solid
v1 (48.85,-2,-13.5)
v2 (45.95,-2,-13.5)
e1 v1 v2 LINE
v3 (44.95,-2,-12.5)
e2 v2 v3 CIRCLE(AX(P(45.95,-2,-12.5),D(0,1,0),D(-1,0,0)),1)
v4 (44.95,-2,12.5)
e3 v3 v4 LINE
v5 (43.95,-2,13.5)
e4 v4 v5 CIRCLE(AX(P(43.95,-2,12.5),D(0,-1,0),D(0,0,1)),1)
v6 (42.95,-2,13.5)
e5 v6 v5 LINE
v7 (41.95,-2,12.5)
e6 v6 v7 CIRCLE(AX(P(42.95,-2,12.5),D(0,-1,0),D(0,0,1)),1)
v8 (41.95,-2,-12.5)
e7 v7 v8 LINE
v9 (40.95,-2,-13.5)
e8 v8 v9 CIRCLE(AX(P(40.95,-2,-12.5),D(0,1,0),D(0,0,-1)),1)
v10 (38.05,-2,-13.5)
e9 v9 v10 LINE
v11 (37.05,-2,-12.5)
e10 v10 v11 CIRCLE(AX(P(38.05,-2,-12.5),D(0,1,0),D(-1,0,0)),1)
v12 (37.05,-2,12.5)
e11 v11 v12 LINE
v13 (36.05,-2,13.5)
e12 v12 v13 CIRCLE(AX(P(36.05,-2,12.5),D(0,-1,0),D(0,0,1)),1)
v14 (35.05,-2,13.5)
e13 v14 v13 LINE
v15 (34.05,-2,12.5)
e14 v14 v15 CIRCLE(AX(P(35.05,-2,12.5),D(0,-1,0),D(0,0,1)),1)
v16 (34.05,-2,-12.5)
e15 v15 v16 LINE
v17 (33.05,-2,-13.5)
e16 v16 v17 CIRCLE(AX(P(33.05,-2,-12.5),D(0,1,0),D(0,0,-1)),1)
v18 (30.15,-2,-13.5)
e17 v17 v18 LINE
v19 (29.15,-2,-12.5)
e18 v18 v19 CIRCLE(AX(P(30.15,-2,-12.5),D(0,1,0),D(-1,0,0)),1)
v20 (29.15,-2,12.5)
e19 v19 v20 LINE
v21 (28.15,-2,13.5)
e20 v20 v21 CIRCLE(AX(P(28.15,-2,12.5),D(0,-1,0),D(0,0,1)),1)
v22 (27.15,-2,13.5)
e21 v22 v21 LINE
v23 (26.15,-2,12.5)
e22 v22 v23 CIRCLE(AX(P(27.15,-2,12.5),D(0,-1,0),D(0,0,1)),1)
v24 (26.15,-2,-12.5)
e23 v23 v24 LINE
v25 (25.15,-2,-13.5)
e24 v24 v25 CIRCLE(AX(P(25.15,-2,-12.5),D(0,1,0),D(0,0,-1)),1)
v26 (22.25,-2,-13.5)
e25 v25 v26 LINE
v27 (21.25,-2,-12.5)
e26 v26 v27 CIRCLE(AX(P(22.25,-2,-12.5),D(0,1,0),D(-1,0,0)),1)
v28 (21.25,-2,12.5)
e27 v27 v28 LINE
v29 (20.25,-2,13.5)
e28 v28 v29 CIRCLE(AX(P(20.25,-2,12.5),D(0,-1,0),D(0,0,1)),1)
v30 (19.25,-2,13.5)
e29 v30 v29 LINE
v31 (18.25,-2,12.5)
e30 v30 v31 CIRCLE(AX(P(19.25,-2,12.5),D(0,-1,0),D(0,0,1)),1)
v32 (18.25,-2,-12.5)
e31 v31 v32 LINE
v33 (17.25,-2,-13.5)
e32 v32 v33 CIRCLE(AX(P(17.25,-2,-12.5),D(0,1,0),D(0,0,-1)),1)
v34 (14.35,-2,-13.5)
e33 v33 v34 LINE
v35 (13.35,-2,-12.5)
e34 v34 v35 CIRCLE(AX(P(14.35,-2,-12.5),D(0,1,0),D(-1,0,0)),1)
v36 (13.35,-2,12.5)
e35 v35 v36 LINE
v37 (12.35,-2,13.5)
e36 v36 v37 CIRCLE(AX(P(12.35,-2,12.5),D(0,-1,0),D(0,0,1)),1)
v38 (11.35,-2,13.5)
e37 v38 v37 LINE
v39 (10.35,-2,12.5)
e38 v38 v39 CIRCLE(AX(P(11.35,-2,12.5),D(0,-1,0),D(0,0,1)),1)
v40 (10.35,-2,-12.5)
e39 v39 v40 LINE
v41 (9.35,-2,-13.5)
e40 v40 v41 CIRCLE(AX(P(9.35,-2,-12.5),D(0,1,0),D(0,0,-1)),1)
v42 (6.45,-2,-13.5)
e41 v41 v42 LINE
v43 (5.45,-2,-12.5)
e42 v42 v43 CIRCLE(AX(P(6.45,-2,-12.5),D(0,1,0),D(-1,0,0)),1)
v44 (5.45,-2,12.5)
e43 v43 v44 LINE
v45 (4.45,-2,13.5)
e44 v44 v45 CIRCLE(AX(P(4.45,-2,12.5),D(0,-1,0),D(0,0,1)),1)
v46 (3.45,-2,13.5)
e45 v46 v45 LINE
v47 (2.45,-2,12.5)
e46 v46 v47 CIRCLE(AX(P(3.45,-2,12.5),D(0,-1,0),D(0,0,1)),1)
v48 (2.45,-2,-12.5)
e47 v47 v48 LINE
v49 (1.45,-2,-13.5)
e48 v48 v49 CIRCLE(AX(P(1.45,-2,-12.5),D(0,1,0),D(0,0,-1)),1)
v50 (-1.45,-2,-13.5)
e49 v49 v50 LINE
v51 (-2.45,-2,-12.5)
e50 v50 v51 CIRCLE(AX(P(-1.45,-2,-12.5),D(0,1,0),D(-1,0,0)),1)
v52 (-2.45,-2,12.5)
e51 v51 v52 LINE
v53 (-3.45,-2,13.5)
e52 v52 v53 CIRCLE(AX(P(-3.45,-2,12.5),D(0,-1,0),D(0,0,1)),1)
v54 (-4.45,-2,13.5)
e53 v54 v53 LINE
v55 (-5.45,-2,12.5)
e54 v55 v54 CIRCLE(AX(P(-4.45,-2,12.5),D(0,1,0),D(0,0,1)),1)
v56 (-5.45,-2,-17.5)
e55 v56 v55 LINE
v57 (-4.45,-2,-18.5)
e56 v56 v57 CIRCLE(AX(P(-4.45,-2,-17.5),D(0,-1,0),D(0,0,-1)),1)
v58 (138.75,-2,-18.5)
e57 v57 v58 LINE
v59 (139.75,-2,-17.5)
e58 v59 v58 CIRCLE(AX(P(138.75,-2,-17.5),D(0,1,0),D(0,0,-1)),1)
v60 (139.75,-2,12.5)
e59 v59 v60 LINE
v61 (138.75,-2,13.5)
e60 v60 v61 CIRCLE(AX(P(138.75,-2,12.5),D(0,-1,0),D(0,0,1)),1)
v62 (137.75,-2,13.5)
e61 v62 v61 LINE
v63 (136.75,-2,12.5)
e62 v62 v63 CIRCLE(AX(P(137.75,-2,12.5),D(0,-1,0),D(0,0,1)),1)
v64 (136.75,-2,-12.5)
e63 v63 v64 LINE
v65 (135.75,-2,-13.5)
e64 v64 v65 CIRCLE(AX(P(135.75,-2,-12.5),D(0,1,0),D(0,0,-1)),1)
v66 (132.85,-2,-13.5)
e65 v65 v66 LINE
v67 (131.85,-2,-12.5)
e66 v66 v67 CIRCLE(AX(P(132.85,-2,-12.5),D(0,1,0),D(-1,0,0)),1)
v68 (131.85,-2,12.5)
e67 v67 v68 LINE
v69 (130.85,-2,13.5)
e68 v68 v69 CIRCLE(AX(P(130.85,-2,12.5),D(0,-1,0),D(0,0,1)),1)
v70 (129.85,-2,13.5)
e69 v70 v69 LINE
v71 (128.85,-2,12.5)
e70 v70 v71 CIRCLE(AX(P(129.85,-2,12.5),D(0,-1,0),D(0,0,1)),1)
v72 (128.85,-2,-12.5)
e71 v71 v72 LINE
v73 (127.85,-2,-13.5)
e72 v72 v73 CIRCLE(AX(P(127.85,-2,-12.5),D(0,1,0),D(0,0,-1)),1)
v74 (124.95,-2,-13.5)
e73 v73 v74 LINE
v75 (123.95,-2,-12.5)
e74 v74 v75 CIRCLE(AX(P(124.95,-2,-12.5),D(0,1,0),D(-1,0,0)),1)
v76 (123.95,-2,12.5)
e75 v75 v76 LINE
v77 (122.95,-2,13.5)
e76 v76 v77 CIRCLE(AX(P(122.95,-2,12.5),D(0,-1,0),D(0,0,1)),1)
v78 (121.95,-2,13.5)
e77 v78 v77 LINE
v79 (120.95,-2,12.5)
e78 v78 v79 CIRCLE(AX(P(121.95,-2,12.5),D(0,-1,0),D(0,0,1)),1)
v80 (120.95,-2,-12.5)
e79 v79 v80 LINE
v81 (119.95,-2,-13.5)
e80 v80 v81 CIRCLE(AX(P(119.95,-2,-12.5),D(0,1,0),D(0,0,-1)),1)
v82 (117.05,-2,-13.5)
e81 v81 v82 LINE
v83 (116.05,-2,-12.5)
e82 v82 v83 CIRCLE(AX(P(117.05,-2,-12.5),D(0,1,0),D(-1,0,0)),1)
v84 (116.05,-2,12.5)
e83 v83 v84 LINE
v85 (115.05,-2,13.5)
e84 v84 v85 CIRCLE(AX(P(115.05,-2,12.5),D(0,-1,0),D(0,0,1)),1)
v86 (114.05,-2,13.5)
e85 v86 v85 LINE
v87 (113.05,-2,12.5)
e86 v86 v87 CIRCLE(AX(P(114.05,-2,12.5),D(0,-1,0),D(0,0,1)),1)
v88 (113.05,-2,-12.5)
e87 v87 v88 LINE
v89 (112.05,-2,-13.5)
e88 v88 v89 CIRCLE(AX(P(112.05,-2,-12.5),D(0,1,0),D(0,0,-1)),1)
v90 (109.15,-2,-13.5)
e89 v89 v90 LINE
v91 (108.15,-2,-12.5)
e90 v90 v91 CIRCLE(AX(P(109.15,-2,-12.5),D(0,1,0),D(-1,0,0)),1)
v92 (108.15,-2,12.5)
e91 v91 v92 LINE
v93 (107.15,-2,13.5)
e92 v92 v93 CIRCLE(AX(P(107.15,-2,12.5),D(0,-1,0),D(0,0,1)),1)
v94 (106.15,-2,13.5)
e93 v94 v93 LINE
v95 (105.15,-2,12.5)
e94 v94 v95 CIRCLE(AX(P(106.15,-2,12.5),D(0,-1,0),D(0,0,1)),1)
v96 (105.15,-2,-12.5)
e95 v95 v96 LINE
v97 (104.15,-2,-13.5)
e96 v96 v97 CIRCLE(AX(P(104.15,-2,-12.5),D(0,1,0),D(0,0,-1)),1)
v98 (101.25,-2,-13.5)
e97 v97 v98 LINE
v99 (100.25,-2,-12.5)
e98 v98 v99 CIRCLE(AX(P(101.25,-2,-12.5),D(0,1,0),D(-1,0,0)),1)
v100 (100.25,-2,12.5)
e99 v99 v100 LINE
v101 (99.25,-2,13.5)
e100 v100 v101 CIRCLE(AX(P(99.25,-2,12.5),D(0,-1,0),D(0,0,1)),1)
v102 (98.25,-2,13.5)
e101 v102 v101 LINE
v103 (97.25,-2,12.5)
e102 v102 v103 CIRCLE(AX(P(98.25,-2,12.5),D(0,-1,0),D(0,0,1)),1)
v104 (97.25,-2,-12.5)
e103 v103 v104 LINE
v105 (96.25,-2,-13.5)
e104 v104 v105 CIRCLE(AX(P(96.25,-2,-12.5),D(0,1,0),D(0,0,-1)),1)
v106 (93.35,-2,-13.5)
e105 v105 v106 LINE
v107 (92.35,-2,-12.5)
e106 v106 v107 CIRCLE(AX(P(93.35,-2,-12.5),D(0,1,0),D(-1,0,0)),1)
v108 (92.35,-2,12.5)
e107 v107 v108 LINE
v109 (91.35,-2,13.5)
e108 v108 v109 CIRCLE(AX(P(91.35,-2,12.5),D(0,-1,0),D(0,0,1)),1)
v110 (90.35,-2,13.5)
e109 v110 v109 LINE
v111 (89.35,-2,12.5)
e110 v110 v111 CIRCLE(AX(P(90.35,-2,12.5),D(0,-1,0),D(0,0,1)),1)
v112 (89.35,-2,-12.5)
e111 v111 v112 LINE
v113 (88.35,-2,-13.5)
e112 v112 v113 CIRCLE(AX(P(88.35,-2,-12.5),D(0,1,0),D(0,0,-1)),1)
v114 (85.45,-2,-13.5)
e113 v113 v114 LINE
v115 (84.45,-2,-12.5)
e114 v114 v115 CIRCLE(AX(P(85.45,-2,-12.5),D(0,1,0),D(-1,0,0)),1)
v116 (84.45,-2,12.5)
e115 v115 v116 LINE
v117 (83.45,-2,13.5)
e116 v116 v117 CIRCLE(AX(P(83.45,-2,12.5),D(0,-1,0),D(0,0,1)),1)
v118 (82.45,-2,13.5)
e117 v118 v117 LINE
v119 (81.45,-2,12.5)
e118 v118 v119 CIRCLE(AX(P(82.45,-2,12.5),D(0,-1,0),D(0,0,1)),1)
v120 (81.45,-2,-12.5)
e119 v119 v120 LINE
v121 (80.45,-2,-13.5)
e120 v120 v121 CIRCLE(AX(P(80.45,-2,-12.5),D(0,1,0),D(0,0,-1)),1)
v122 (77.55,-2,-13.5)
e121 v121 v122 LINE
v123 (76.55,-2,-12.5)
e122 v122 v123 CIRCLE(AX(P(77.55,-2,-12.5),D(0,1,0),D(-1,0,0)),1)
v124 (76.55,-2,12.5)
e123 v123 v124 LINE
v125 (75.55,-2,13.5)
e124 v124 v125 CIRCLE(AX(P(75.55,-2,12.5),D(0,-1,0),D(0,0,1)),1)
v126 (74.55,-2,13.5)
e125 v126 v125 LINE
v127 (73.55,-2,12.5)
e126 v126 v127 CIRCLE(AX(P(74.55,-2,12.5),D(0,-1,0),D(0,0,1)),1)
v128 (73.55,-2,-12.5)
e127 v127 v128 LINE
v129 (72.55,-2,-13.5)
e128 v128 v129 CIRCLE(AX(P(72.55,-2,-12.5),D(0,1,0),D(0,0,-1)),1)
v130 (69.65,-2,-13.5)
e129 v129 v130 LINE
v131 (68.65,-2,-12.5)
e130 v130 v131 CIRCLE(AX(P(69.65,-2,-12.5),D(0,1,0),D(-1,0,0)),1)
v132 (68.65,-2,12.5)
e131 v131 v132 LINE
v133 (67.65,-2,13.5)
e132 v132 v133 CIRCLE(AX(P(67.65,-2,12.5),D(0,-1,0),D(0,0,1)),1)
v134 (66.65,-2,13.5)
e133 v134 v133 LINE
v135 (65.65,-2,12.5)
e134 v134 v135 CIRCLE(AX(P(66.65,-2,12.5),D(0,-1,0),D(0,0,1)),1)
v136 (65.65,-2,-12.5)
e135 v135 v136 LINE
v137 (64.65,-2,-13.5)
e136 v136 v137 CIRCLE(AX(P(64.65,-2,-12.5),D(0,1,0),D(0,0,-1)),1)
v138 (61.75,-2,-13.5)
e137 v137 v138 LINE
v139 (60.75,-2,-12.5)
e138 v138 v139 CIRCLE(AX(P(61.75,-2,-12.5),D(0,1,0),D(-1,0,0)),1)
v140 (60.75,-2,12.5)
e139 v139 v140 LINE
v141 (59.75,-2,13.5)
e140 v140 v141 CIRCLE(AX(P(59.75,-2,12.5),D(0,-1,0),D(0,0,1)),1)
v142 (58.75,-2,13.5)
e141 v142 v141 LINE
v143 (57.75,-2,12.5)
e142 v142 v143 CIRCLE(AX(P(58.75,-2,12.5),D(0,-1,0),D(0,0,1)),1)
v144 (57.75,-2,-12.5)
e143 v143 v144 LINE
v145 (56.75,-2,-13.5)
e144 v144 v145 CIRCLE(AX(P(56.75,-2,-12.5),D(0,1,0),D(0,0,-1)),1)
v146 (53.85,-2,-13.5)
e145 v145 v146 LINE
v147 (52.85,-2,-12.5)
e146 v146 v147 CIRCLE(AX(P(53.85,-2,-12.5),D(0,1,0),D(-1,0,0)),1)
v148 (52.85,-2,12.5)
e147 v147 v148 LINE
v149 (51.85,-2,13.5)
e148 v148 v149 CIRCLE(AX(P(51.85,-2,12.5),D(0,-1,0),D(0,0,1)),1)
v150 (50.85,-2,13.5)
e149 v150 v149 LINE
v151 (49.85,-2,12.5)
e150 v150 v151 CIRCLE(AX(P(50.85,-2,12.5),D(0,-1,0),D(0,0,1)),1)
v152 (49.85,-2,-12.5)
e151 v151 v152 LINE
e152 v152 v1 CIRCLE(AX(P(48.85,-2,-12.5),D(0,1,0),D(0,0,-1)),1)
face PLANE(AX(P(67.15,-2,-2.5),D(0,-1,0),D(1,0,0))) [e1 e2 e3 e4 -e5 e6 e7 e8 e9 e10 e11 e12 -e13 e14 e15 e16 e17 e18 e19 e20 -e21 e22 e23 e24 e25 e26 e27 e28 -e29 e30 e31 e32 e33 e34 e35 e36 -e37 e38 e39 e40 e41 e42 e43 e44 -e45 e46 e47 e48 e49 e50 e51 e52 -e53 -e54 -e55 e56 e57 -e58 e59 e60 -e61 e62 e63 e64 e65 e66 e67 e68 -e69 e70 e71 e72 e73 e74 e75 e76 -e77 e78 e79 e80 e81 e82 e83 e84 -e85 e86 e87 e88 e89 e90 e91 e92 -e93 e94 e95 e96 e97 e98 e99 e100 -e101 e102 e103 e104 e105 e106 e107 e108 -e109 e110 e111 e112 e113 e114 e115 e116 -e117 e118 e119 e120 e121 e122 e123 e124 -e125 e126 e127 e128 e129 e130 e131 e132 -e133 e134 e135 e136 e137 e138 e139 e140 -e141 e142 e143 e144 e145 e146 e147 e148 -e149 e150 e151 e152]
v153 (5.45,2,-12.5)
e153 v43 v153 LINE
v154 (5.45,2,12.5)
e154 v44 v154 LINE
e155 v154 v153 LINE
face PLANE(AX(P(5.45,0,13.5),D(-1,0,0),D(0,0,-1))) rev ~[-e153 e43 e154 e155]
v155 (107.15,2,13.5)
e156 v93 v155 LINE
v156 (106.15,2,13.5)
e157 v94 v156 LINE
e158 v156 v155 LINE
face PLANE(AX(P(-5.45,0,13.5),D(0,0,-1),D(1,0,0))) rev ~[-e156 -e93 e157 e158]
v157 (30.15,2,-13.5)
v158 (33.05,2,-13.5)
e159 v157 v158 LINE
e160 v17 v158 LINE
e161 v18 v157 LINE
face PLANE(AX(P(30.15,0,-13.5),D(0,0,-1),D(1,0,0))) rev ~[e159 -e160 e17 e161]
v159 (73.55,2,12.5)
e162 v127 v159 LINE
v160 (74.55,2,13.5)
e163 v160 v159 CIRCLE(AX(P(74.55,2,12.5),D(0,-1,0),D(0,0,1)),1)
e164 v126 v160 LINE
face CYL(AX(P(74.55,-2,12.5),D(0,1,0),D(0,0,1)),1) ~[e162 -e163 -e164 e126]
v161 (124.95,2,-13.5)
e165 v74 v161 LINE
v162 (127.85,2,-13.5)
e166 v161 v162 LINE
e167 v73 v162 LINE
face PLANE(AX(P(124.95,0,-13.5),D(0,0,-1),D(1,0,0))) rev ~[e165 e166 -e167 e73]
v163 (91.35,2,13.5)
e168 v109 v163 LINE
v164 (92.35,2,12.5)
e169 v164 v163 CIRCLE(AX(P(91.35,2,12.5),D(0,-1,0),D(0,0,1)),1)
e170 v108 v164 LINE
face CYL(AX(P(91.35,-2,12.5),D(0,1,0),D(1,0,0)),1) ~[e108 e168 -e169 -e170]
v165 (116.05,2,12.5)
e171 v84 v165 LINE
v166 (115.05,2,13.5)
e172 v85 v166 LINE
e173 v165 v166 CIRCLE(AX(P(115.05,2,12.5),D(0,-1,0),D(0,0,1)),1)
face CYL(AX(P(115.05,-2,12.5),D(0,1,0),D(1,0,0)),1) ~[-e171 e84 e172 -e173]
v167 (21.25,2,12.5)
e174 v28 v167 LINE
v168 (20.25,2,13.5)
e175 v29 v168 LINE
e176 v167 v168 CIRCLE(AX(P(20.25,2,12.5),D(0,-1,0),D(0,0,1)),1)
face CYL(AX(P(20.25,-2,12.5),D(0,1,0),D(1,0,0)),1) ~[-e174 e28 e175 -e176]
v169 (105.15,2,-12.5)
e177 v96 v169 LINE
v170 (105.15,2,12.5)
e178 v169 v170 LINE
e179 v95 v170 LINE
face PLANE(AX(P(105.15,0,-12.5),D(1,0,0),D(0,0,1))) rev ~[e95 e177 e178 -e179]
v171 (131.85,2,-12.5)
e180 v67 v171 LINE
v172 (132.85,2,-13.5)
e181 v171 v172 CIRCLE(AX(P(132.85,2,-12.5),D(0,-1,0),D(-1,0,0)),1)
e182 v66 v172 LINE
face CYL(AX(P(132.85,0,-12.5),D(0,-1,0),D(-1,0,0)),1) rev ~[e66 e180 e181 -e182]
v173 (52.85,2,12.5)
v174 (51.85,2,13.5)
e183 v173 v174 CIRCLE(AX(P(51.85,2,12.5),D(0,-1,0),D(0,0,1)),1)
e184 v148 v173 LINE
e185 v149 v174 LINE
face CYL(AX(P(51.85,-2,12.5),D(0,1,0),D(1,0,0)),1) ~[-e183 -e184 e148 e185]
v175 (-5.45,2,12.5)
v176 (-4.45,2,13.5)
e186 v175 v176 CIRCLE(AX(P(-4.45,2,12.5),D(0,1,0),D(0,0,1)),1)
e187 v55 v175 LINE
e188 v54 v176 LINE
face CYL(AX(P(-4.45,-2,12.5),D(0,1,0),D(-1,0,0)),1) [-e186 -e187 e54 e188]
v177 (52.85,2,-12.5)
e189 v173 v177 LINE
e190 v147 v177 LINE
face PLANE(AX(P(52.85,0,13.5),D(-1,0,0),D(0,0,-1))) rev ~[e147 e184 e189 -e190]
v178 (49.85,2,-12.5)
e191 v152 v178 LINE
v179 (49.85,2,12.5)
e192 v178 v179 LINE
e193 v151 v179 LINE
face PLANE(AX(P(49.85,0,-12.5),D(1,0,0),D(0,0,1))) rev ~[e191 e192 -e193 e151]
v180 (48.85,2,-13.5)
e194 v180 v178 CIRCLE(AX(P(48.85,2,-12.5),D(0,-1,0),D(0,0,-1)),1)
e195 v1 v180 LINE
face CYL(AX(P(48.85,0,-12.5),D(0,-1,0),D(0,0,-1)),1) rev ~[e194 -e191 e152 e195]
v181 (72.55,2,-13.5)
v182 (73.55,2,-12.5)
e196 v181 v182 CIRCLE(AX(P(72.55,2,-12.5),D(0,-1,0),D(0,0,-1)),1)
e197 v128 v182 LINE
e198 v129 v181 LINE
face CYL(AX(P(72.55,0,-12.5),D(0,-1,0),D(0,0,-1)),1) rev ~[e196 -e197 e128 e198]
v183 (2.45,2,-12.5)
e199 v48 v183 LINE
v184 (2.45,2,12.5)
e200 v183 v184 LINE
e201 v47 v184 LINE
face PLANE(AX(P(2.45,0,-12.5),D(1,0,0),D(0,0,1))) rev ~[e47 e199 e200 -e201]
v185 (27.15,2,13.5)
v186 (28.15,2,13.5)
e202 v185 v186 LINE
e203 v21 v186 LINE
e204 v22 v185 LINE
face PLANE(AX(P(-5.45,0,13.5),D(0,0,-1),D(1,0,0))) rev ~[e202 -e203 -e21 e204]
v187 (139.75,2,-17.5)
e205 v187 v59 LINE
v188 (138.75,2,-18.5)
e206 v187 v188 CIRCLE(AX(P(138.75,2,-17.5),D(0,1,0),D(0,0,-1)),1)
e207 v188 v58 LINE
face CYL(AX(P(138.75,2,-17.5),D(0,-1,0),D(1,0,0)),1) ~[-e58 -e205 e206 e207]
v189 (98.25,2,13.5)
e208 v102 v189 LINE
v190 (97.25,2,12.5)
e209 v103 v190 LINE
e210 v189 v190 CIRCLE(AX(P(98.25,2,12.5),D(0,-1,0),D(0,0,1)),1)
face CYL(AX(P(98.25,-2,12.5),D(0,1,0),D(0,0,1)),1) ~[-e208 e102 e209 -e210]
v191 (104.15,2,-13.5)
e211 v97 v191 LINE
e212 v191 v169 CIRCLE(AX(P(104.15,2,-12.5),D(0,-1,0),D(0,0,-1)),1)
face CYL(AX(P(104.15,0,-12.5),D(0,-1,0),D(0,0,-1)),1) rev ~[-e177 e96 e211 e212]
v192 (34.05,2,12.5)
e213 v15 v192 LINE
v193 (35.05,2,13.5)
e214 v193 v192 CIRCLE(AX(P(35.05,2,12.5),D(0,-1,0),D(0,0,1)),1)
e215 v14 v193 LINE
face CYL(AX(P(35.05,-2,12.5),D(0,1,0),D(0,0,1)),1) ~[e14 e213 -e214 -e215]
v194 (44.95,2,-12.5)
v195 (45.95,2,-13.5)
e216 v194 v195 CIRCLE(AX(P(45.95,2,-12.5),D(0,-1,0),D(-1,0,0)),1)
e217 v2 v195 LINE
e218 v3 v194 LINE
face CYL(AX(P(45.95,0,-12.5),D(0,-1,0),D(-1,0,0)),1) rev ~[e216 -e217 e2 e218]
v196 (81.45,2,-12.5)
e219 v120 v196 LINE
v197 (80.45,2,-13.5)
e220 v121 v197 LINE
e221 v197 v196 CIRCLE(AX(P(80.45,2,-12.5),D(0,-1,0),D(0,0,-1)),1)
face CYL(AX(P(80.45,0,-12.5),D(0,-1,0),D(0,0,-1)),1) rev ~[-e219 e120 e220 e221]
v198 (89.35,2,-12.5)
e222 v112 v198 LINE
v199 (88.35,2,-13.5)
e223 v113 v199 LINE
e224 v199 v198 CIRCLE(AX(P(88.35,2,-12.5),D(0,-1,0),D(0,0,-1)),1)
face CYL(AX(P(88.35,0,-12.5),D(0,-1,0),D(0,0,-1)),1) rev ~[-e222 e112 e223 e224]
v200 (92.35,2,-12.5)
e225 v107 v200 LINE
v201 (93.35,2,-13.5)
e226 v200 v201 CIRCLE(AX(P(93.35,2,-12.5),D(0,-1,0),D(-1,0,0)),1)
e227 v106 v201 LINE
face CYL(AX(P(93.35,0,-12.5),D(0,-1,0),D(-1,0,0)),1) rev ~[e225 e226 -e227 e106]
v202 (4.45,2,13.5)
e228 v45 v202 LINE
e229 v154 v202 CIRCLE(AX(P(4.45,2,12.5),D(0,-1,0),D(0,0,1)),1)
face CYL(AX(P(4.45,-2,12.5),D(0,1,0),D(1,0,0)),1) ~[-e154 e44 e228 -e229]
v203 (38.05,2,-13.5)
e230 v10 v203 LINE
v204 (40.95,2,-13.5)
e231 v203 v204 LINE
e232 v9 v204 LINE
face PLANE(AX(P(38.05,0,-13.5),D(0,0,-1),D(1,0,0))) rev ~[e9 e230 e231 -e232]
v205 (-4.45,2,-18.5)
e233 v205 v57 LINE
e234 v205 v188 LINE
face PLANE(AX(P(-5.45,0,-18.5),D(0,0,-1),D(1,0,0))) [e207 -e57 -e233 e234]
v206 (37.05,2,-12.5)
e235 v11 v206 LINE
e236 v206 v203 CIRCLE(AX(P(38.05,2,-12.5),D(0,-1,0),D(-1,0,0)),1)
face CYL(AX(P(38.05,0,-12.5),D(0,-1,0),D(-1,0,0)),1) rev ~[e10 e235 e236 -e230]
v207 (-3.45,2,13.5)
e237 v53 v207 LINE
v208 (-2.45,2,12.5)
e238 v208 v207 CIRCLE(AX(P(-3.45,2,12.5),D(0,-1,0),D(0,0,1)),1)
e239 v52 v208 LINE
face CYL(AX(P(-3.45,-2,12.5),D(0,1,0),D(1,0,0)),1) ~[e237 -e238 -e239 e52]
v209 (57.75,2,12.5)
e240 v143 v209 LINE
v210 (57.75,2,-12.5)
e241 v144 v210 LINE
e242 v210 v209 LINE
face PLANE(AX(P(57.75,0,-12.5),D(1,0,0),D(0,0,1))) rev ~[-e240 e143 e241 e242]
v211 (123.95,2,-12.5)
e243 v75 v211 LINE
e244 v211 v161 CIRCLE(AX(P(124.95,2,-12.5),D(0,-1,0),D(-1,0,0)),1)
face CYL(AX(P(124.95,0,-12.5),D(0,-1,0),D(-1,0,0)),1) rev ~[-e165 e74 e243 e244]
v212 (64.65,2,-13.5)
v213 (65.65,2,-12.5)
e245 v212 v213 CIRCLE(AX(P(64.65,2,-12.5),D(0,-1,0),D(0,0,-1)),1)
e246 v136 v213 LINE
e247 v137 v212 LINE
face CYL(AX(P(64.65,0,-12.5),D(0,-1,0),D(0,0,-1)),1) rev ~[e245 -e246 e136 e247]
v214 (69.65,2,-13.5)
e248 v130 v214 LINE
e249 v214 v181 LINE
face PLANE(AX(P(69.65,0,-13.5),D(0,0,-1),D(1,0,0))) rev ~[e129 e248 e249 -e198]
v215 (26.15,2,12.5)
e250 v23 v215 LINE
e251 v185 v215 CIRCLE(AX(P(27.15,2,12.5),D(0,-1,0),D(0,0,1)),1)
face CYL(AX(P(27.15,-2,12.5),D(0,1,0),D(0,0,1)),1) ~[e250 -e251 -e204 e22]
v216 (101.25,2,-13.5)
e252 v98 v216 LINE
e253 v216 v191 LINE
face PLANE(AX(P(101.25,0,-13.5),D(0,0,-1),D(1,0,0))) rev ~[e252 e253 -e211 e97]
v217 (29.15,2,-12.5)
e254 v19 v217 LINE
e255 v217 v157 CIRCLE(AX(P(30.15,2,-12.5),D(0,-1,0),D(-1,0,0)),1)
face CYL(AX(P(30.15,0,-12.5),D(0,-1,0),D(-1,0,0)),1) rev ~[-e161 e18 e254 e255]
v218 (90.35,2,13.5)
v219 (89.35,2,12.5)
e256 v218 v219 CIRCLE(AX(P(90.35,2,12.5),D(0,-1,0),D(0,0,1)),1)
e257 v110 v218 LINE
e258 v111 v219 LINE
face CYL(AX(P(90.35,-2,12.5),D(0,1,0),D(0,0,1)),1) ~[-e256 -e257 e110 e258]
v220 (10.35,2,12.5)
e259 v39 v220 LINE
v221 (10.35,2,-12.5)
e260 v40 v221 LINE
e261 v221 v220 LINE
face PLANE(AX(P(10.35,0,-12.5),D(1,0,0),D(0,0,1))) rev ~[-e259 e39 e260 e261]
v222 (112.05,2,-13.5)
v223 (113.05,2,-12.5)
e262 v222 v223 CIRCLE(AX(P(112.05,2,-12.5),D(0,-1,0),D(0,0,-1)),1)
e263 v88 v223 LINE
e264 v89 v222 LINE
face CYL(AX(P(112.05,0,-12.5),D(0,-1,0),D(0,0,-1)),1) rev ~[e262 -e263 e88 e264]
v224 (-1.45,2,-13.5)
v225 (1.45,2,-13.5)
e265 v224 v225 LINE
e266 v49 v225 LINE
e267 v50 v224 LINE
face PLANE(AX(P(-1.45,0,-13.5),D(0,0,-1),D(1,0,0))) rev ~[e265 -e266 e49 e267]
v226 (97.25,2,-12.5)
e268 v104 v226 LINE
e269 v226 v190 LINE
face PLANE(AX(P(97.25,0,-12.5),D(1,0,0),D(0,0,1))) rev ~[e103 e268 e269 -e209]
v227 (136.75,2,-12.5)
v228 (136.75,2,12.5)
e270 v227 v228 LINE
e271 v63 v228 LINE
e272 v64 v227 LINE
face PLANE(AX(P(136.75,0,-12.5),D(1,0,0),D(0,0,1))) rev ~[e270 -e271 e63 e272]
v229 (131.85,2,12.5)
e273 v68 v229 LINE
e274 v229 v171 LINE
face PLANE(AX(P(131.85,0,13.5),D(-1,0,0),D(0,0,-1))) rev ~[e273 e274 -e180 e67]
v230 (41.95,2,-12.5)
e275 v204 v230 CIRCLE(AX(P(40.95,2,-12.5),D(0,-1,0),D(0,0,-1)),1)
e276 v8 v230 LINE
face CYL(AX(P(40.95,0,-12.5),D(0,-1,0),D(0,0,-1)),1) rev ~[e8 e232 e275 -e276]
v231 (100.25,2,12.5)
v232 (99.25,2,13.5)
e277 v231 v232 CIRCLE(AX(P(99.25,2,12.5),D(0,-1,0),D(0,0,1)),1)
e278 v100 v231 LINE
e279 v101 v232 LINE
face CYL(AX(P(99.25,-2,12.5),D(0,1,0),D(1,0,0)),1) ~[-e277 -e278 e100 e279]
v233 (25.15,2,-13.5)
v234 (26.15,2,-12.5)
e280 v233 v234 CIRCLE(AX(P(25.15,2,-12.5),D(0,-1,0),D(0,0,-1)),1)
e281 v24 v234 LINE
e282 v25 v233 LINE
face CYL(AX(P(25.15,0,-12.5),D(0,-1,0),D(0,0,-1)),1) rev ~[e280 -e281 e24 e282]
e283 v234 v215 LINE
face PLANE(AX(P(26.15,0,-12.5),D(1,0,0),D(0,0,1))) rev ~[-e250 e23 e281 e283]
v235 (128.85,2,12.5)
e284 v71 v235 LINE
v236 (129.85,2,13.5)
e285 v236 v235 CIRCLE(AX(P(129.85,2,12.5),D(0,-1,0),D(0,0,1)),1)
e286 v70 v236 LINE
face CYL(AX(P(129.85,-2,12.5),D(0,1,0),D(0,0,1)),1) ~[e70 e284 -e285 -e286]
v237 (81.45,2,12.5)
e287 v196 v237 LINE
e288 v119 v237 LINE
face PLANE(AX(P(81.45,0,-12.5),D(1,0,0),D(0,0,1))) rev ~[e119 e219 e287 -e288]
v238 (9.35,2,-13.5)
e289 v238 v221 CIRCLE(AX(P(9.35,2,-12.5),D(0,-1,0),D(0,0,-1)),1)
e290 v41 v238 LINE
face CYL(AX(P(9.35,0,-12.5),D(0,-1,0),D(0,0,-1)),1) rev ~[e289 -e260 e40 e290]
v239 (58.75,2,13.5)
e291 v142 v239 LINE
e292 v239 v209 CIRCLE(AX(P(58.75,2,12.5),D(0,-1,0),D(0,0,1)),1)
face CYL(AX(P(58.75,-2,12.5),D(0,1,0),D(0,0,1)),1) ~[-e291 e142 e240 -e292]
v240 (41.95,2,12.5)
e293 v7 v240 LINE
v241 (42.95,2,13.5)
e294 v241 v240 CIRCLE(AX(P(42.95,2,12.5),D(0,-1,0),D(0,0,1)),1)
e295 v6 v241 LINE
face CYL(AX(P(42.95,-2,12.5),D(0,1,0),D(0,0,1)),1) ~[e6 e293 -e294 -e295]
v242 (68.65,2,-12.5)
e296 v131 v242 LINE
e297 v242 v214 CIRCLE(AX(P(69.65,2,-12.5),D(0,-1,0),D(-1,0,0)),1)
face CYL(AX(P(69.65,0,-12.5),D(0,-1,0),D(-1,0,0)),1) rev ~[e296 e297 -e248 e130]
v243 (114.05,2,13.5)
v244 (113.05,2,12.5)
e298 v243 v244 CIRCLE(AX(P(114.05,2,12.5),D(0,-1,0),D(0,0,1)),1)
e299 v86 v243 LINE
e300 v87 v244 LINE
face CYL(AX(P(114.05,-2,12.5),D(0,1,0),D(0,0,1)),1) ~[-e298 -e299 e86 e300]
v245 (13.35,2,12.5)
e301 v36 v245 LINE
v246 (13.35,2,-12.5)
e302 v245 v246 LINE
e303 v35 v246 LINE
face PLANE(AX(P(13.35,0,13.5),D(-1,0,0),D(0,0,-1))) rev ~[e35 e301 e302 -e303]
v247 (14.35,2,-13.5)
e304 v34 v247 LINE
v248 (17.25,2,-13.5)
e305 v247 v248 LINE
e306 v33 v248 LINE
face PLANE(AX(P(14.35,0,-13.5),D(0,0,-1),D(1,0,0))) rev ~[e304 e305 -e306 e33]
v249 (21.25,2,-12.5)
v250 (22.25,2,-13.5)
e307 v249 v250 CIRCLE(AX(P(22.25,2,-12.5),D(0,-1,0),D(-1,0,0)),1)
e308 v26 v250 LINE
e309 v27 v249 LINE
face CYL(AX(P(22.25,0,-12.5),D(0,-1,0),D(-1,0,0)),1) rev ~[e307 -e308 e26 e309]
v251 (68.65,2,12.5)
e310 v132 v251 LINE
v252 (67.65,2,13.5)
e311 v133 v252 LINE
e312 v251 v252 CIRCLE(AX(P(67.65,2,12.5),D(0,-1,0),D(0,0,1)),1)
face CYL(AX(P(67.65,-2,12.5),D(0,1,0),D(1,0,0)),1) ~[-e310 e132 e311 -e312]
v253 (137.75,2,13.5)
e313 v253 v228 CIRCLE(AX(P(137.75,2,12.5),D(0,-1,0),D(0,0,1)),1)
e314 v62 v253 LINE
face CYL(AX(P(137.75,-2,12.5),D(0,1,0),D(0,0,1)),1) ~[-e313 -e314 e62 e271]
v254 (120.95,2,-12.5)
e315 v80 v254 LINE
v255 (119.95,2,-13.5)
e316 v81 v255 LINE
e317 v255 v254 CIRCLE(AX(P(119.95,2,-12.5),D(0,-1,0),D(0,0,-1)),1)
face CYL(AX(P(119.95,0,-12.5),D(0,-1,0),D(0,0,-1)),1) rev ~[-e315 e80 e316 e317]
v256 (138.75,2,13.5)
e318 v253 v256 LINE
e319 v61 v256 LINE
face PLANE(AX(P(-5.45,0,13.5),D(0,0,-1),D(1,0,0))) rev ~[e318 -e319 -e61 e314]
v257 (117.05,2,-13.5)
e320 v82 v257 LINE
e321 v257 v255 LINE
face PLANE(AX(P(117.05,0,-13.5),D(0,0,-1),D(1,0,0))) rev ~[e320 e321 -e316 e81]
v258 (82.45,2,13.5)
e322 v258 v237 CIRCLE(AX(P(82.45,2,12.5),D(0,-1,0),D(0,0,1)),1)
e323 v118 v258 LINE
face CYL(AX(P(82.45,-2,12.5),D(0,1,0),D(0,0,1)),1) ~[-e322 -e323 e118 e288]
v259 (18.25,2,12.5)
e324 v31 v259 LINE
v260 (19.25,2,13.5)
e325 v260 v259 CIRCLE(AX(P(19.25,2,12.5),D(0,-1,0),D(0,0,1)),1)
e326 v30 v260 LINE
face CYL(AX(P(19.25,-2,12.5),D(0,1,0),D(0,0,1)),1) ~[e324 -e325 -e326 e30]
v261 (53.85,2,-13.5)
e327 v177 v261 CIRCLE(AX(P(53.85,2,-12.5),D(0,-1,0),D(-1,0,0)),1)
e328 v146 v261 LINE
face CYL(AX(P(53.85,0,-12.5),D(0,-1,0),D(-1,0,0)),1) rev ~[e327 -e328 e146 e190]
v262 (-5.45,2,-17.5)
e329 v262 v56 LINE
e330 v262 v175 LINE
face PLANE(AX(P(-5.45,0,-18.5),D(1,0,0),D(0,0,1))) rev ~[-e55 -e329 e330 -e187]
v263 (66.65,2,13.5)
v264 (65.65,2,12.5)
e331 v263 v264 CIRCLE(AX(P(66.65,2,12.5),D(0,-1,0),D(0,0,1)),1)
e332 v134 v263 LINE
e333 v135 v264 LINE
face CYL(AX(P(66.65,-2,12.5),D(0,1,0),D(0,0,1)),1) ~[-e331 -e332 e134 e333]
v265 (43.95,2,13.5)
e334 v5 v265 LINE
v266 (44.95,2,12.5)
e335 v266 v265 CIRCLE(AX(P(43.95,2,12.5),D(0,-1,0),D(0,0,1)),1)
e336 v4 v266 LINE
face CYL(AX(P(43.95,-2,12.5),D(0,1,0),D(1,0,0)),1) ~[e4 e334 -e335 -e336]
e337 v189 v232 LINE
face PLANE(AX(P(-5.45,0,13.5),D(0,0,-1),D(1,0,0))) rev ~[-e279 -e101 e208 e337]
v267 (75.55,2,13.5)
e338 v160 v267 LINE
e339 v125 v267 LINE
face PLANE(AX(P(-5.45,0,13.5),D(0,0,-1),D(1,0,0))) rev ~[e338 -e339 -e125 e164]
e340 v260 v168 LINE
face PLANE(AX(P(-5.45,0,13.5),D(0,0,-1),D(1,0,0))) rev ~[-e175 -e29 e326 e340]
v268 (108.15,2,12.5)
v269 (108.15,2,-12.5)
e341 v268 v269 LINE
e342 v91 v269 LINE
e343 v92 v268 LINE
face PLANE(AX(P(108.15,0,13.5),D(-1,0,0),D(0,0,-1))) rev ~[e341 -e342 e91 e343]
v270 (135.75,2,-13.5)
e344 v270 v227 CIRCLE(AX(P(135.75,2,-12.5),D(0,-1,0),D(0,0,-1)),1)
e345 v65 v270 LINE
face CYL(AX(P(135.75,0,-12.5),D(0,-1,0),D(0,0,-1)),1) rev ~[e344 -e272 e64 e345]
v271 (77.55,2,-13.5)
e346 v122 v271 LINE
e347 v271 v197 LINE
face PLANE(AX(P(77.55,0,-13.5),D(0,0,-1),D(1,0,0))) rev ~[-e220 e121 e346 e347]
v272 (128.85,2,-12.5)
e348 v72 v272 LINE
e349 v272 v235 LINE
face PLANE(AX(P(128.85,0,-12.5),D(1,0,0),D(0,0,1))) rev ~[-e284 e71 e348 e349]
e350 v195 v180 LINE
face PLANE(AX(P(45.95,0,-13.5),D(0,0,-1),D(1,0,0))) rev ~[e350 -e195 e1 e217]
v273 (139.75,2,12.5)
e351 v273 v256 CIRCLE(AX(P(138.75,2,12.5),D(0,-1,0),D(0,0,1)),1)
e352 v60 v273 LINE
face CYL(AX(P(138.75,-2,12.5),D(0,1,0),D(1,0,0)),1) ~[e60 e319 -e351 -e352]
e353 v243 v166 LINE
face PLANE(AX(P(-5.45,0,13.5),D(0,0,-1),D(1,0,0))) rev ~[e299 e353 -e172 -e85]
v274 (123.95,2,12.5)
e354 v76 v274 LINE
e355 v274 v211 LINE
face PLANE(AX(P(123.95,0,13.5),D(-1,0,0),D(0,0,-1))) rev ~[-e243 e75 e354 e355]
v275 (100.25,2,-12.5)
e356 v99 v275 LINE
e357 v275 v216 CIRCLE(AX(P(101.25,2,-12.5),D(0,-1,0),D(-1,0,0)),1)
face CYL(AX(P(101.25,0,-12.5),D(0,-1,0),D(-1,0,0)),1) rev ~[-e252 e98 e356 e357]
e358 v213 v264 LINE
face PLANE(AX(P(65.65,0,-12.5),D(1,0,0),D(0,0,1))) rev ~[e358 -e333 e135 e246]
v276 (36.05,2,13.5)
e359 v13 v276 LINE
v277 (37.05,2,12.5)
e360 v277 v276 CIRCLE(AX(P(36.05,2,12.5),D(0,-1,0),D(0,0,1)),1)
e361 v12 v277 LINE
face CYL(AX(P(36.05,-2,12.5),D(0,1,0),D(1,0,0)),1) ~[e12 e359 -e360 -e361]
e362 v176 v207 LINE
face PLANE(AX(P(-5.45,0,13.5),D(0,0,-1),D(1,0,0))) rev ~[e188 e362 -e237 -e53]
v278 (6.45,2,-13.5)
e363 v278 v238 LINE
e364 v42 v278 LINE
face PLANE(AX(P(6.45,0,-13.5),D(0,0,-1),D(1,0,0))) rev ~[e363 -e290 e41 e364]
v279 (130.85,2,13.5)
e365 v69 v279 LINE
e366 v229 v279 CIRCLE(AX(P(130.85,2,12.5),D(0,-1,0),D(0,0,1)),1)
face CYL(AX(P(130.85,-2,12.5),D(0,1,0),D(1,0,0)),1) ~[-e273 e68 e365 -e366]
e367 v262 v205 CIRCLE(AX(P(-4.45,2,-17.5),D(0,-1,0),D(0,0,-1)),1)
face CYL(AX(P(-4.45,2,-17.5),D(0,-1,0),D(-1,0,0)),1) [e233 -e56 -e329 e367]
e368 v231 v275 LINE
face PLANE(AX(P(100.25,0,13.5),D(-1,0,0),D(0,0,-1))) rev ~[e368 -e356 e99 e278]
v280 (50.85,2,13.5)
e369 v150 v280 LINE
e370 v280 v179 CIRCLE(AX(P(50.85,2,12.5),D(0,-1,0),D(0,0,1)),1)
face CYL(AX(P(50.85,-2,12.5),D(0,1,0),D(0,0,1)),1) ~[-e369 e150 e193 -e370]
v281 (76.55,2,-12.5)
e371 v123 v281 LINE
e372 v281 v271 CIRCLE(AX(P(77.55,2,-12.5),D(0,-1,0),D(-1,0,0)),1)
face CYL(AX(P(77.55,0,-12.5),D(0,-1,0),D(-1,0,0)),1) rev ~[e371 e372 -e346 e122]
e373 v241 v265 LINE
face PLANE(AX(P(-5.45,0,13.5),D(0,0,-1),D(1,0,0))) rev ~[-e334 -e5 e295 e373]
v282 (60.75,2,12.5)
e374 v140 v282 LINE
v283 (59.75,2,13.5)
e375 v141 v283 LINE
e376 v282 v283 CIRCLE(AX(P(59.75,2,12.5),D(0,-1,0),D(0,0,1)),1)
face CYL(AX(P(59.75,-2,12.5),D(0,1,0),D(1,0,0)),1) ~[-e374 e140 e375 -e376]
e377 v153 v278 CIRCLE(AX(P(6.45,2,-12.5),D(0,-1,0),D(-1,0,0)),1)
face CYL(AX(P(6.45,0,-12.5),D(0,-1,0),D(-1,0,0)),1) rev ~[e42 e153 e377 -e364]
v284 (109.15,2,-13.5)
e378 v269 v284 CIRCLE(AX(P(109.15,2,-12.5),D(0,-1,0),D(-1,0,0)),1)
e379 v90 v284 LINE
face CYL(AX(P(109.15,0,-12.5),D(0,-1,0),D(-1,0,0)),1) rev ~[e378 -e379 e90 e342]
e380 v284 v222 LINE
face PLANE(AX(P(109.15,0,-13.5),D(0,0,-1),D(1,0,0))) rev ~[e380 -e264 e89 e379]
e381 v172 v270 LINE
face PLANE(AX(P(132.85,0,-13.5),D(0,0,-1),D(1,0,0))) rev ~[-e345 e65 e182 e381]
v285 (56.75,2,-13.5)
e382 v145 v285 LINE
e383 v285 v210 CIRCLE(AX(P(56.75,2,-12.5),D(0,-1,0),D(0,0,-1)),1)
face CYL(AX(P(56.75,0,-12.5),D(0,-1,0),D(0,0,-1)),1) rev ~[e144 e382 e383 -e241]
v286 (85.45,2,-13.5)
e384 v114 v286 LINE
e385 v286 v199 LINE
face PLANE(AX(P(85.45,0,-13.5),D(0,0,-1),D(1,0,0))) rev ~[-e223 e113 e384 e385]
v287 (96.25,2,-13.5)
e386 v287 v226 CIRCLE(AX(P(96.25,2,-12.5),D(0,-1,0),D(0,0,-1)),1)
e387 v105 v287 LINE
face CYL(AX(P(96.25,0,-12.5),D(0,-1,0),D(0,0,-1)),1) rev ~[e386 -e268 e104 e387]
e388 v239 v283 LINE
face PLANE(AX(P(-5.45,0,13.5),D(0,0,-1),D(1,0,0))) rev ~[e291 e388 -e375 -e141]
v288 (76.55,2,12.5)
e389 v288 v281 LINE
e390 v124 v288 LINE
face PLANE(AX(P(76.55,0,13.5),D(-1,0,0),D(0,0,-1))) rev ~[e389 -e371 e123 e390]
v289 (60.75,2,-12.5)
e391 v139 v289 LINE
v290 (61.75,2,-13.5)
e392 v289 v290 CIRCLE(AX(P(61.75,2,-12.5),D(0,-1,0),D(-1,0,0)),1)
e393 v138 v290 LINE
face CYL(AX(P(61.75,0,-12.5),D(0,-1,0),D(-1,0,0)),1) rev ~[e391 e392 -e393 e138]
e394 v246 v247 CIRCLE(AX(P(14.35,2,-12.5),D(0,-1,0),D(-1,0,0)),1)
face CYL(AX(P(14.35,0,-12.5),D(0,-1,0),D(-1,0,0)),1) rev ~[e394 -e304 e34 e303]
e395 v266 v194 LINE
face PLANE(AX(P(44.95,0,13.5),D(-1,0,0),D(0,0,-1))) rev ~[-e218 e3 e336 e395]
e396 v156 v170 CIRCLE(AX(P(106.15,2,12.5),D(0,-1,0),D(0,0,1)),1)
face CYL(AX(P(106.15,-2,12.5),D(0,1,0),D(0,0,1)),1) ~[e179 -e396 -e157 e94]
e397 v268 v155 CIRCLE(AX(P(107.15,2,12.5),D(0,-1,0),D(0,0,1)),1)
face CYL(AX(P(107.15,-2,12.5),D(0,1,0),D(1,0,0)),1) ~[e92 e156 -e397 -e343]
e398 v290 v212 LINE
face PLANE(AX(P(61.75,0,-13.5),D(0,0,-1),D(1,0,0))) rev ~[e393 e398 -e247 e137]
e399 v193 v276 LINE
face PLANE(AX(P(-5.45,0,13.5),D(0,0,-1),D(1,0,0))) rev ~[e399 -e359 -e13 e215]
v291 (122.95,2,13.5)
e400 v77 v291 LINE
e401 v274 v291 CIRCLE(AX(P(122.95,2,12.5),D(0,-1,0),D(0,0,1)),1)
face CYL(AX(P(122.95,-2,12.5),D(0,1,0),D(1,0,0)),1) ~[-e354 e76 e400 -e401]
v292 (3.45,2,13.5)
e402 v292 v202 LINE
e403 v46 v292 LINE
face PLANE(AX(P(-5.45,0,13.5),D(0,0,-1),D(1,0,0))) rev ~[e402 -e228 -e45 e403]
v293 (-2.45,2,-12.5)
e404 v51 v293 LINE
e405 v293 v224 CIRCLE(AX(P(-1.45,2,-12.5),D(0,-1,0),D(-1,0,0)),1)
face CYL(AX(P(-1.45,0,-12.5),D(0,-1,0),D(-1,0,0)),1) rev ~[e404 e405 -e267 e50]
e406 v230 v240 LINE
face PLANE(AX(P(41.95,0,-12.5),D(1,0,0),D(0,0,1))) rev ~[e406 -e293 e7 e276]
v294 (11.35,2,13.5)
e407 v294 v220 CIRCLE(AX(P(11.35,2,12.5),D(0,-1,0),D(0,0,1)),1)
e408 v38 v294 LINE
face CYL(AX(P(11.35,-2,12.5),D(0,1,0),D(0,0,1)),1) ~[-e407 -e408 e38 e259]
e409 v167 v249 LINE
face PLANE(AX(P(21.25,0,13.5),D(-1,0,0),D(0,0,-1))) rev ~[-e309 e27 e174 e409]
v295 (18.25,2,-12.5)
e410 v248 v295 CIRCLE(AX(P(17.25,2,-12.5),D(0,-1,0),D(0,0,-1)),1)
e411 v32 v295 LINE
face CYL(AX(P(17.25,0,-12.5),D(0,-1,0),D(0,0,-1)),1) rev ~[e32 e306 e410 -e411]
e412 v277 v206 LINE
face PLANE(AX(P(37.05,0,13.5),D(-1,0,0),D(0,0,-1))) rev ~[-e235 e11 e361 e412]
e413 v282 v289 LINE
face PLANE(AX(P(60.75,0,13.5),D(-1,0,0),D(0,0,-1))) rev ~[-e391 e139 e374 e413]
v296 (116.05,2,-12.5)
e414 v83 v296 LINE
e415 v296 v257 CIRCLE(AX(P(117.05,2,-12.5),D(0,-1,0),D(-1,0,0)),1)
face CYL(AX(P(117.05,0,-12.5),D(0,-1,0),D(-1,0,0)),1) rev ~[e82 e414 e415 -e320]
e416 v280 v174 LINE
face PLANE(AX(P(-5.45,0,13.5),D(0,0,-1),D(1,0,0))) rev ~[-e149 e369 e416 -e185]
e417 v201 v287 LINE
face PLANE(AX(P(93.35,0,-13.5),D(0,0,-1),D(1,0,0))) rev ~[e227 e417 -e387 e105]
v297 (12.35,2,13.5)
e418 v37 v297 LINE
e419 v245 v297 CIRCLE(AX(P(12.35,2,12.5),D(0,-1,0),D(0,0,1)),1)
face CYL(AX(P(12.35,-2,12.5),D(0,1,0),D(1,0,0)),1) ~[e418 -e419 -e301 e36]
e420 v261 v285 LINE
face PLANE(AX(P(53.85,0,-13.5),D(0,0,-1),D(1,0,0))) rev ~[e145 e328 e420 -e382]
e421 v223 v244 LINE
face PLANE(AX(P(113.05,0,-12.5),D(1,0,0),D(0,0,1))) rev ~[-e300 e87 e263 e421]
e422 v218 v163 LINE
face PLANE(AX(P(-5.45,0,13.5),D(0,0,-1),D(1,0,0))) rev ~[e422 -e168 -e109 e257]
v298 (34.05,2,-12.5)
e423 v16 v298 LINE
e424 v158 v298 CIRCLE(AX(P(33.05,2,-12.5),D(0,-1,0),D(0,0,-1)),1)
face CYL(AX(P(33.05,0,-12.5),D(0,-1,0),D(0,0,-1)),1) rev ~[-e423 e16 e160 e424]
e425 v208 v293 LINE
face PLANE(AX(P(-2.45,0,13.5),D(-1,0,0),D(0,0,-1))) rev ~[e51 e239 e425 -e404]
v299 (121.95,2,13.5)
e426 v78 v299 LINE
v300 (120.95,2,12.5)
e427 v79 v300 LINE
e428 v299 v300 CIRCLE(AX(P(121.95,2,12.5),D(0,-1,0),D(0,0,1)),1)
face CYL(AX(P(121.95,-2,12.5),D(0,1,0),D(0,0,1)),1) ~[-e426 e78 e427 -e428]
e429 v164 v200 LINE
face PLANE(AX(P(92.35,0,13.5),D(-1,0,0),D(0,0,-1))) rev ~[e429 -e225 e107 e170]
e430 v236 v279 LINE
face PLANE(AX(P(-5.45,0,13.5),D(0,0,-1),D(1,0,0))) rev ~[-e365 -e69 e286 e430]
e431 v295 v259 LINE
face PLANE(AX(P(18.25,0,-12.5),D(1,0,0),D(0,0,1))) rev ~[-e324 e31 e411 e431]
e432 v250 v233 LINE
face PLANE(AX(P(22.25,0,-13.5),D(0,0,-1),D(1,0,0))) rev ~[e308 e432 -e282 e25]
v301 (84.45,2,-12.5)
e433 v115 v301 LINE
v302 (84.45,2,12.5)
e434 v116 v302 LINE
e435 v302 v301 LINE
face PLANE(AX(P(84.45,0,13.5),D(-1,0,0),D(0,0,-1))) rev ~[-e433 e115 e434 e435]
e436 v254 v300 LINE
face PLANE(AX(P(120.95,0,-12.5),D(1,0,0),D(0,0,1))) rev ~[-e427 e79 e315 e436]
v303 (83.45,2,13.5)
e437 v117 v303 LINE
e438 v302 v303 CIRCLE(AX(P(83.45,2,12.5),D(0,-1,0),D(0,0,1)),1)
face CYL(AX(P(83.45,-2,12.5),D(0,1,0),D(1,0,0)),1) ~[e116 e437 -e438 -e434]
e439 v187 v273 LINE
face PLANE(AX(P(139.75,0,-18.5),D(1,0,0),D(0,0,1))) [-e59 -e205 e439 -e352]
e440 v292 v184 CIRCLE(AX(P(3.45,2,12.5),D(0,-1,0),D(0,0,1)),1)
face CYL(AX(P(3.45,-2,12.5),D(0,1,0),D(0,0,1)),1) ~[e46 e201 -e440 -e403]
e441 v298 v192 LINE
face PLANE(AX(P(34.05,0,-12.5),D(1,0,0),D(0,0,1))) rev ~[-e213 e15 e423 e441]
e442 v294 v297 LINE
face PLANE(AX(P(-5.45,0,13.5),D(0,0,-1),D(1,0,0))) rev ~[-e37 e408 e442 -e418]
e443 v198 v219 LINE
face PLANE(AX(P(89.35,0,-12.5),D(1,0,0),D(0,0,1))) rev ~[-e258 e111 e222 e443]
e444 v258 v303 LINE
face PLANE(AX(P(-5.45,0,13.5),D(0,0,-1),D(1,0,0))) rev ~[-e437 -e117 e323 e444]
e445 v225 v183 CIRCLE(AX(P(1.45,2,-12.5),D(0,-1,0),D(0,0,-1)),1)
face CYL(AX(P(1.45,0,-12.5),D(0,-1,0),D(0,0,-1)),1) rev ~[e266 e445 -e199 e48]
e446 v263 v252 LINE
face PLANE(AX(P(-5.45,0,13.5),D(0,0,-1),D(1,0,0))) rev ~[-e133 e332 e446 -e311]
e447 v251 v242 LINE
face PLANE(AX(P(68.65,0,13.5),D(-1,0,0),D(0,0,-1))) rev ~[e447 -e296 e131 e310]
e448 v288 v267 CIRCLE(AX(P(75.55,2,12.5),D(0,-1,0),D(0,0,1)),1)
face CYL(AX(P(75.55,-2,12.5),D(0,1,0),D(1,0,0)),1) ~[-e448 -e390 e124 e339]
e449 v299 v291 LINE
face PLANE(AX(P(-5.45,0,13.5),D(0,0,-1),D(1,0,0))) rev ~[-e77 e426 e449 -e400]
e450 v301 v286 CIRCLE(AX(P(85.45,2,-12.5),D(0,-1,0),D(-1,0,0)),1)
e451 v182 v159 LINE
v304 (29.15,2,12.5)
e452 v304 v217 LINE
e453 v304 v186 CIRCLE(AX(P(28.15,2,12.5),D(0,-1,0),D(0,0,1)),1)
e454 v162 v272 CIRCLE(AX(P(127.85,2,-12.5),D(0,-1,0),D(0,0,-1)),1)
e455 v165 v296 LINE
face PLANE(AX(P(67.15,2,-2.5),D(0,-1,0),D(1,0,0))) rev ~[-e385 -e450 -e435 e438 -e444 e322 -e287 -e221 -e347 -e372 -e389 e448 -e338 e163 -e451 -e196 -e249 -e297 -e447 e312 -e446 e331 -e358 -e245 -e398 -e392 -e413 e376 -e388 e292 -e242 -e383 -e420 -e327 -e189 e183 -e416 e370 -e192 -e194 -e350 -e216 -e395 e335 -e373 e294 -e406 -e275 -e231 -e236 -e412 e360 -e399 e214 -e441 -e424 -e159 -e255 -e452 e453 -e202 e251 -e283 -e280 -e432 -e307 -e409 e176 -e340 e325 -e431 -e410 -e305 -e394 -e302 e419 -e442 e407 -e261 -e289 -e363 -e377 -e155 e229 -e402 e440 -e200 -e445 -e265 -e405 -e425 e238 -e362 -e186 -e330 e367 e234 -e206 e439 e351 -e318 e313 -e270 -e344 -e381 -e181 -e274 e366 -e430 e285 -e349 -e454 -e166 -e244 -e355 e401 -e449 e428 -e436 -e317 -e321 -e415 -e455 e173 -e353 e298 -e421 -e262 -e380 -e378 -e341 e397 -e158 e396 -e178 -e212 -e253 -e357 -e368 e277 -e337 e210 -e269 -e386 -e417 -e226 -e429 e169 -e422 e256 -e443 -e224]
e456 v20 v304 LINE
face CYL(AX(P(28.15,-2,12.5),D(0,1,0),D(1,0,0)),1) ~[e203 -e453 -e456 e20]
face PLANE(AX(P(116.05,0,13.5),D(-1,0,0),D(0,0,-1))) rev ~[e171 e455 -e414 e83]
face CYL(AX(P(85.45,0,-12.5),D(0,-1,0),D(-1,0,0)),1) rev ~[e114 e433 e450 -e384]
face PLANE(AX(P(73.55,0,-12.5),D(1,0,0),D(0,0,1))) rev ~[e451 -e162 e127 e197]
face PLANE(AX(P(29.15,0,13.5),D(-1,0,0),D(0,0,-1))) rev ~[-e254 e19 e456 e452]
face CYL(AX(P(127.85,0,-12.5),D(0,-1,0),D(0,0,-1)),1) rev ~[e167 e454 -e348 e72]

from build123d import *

# Parameters (mm, degrees)
F1_W          = 145.2
F1_H          = 32
F2_DEPTH      = 2
F3_DEPTH      = 2.001
F3_DEPTH_BACK = 2.001
F4_R          = 1


with BuildPart() as f2:
    # F1 (on Front) → F2 (new body, symmetric)
    with BuildSketch(Plane.XZ):
        with Locations((67.15, -2.5)):
            Rectangle(F1_W, F1_H)
    extrude(amount=F2_DEPTH, both=True)

    # F0 (on Front) → F3 (cut, two sides)
    with BuildSketch(Plane.XZ) as f3_sk:
        with BuildLine():
            Line((2.45, -12.5), (2.45, 13.5))
            Line((2.45, 13.5), (-2.45, 13.5))
            Line((-2.45, 13.5), (-2.45, -12.5))
            ThreePointArc((-2.45, -12.5), (-2.1571067812, -13.2071067812), (-1.45, -13.5))
            Line((-1.45, -13.5), (1.45, -13.5))
            ThreePointArc((1.45, -13.5), (2.1571067812, -13.2071067812), (2.45, -12.5))
        make_face()
        with BuildLine():
            Line((10.35, 13.5), (5.45, 13.5))
            Line((5.45, 13.5), (5.45, -12.5))
            ThreePointArc((5.45, -12.5), (5.7428932188, -13.2071067812), (6.45, -13.5))
            Line((6.45, -13.5), (9.35, -13.5))
            ThreePointArc((9.35, -13.5), (10.0571067812, -13.2071067812), (10.35, -12.5))
            Line((10.35, -12.5), (10.35, 13.5))
        make_face()
        with BuildLine():
            Line((18.25, 13.5), (13.35, 13.5))
            Line((13.35, 13.5), (13.35, -12.5))
            ThreePointArc((13.35, -12.5), (13.6428932188, -13.2071067812), (14.35, -13.5))
            Line((14.35, -13.5), (17.25, -13.5))
            ThreePointArc((17.25, -13.5), (17.9571067812, -13.2071067812), (18.25, -12.5))
            Line((18.25, -12.5), (18.25, 13.5))
        make_face()
        with BuildLine():
            Line((26.15, 13.5), (21.25, 13.5))
            Line((21.25, 13.5), (21.25, -12.5))
            ThreePointArc((21.25, -12.5), (21.5428932188, -13.2071067812), (22.25, -13.5))
            Line((22.25, -13.5), (25.15, -13.5))
            ThreePointArc((25.15, -13.5), (25.8571067812, -13.2071067812), (26.15, -12.5))
            Line((26.15, -12.5), (26.15, 13.5))
        make_face()
        with BuildLine():
            Line((34.05, 13.5), (29.15, 13.5))
            Line((29.15, 13.5), (29.15, -12.5))
            ThreePointArc((29.15, -12.5), (29.4428932188, -13.2071067812), (30.15, -13.5))
            Line((30.15, -13.5), (33.05, -13.5))
            ThreePointArc((33.05, -13.5), (33.7571067812, -13.2071067812), (34.05, -12.5))
            Line((34.05, -12.5), (34.05, 13.5))
        make_face()
        with BuildLine():
            Line((41.95, 13.5), (37.05, 13.5))
            Line((37.05, 13.5), (37.05, -12.5))
            ThreePointArc((37.05, -12.5), (37.3428932188, -13.2071067812), (38.05, -13.5))
            Line((38.05, -13.5), (40.95, -13.5))
            ThreePointArc((40.95, -13.5), (41.6571067812, -13.2071067812), (41.95, -12.5))
            Line((41.95, -12.5), (41.95, 13.5))
        make_face()
        with BuildLine():
            Line((49.85, 13.5), (44.95, 13.5))
            Line((44.95, 13.5), (44.95, -12.5))
            ThreePointArc((44.95, -12.5), (45.2428932188, -13.2071067812), (45.95, -13.5))
            Line((45.95, -13.5), (48.85, -13.5))
            ThreePointArc((48.85, -13.5), (49.5571067812, -13.2071067812), (49.85, -12.5))
            Line((49.85, -12.5), (49.85, 13.5))
        make_face()
        with BuildLine():
            Line((57.75, 13.5), (52.85, 13.5))
            Line((52.85, 13.5), (52.85, -12.5))
            ThreePointArc((52.85, -12.5), (53.1428932188, -13.2071067812), (53.85, -13.5))
            Line((53.85, -13.5), (56.75, -13.5))
            ThreePointArc((56.75, -13.5), (57.4571067812, -13.2071067812), (57.75, -12.5))
            Line((57.75, -12.5), (57.75, 13.5))
        make_face()
        with BuildLine():
            Line((65.65, 13.5), (60.75, 13.5))
            Line((60.75, 13.5), (60.75, -12.5))
            ThreePointArc((60.75, -12.5), (61.0428932188, -13.2071067812), (61.75, -13.5))
            Line((61.75, -13.5), (64.65, -13.5))
            ThreePointArc((64.65, -13.5), (65.3571067812, -13.2071067812), (65.65, -12.5))
            Line((65.65, -12.5), (65.65, 13.5))
        make_face()
        with BuildLine():
            Line((73.55, 13.5), (68.65, 13.5))
            Line((68.65, 13.5), (68.65, -12.5))
            ThreePointArc((68.65, -12.5), (68.9428932188, -13.2071067812), (69.65, -13.5))
            Line((69.65, -13.5), (72.55, -13.5))
            ThreePointArc((72.55, -13.5), (73.2571067812, -13.2071067812), (73.55, -12.5))
            Line((73.55, -12.5), (73.55, 13.5))
        make_face()
        with BuildLine():
            Line((81.45, 13.5), (76.55, 13.5))
            Line((76.55, 13.5), (76.55, -12.5))
            ThreePointArc((76.55, -12.5), (76.8428932188, -13.2071067812), (77.55, -13.5))
            Line((77.55, -13.5), (80.45, -13.5))
            ThreePointArc((80.45, -13.5), (81.1571067812, -13.2071067812), (81.45, -12.5))
            Line((81.45, -12.5), (81.45, 13.5))
        make_face()
        with BuildLine():
            Line((89.35, 13.5), (84.45, 13.5))
            Line((84.45, 13.5), (84.45, -12.5))
            ThreePointArc((84.45, -12.5), (84.7428932188, -13.2071067812), (85.45, -13.5))
            Line((85.45, -13.5), (88.35, -13.5))
            ThreePointArc((88.35, -13.5), (89.0571067812, -13.2071067812), (89.35, -12.5))
            Line((89.35, -12.5), (89.35, 13.5))
        make_face()
        with BuildLine():
            Line((97.25, 13.5), (92.35, 13.5))
            Line((92.35, 13.5), (92.35, -12.5))
            ThreePointArc((92.35, -12.5), (92.6428932188, -13.2071067812), (93.35, -13.5))
            Line((93.35, -13.5), (96.25, -13.5))
            ThreePointArc((96.25, -13.5), (96.9571067812, -13.2071067812), (97.25, -12.5))
            Line((97.25, -12.5), (97.25, 13.5))
        make_face()
        with BuildLine():
            Line((105.15, 13.5), (100.25, 13.5))
            Line((100.25, 13.5), (100.25, -12.5))
            ThreePointArc((100.25, -12.5), (100.5428932188, -13.2071067812), (101.25, -13.5))
            Line((101.25, -13.5), (104.15, -13.5))
            ThreePointArc((104.15, -13.5), (104.8571067812, -13.2071067812), (105.15, -12.5))
            Line((105.15, -12.5), (105.15, 13.5))
        make_face()
        with BuildLine():
            Line((113.05, 13.5), (108.15, 13.5))
            Line((108.15, 13.5), (108.15, -12.5))
            ThreePointArc((108.15, -12.5), (108.4428932188, -13.2071067812), (109.15, -13.5))
            Line((109.15, -13.5), (112.05, -13.5))
            ThreePointArc((112.05, -13.5), (112.7571067812, -13.2071067812), (113.05, -12.5))
            Line((113.05, -12.5), (113.05, 13.5))
        make_face()
        with BuildLine():
            Line((120.95, 13.5), (116.05, 13.5))
            Line((116.05, 13.5), (116.05, -12.5))
            ThreePointArc((116.05, -12.5), (116.3428932188, -13.2071067812), (117.05, -13.5))
            Line((117.05, -13.5), (119.95, -13.5))
            ThreePointArc((119.95, -13.5), (120.6571067812, -13.2071067812), (120.95, -12.5))
            Line((120.95, -12.5), (120.95, 13.5))
        make_face()
        with BuildLine():
            Line((128.85, 13.5), (123.95, 13.5))
            Line((123.95, 13.5), (123.95, -12.5))
            ThreePointArc((123.95, -12.5), (124.2428932188, -13.2071067812), (124.95, -13.5))
            Line((124.95, -13.5), (127.85, -13.5))
            ThreePointArc((127.85, -13.5), (128.5571067812, -13.2071067812), (128.85, -12.5))
            Line((128.85, -12.5), (128.85, 13.5))
        make_face()
        with BuildLine():
            Line((136.75, 13.5), (131.85, 13.5))
            Line((131.85, 13.5), (131.85, -12.5))
            ThreePointArc((131.85, -12.5), (132.1428932188, -13.2071067812), (132.85, -13.5))
            Line((132.85, -13.5), (135.75, -13.5))
            ThreePointArc((135.75, -13.5), (136.4571067812, -13.2071067812), (136.75, -12.5))
            Line((136.75, -12.5), (136.75, 13.5))
        make_face()
    extrude(amount=-F3_DEPTH, mode=Mode.SUBTRACT)
    extrude(f3_sk.sketch, amount=F3_DEPTH_BACK, mode=Mode.SUBTRACT)

    # F4
    f4_edges = [f2.edges().sort_by_distance(p)[0] for p in [
        (-5.45, 0, 13.5),
        (139.75, 0, 13.5),
        (139.75, 0, -18.5),
        (-5.45, 0, -18.5),
        (-2.45, 0, 13.5),
        (5.45, 0, 13.5),
        (13.35, 0, 13.5),
        (2.45, 0, 13.5),
        (18.25, 0, 13.5),
        (26.15, 0, 13.5),
        (10.35, 0, 13.5),
        (21.25, 0, 13.5),
        (29.15, 0, 13.5),
        (34.05, 0, 13.5),
        (37.05, 0, 13.5),
        (41.95, 0, 13.5),
        (44.95, 0, 13.5),
        (49.85, 0, 13.5),
        (52.85, 0, 13.5),
        (60.75, 0, 13.5),
        (57.75, 0, 13.5),
        (65.65, 0, 13.5),
        (68.65, 0, 13.5),
        (73.55, 0, 13.5),
        (76.55, 0, 13.5),
        (81.45, 0, 13.5),
        (84.45, 0, 13.5),
        (89.35, 0, 13.5),
        (92.35, 0, 13.5),
        (97.25, 0, 13.5),
        (100.25, 0, 13.5),
        (105.15, 0, 13.5),
        (108.15, 0, 13.5),
        (113.05, 0, 13.5),
        (116.05, 0, 13.5),
        (120.95, 0, 13.5),
        (123.95, 0, 13.5),
        (128.85, 0, 13.5),
        (131.85, 0, 13.5),
        (136.75, 0, 13.5),
    ]]
    fillet(f4_edges, radius=F4_R)


solid = f2.part
